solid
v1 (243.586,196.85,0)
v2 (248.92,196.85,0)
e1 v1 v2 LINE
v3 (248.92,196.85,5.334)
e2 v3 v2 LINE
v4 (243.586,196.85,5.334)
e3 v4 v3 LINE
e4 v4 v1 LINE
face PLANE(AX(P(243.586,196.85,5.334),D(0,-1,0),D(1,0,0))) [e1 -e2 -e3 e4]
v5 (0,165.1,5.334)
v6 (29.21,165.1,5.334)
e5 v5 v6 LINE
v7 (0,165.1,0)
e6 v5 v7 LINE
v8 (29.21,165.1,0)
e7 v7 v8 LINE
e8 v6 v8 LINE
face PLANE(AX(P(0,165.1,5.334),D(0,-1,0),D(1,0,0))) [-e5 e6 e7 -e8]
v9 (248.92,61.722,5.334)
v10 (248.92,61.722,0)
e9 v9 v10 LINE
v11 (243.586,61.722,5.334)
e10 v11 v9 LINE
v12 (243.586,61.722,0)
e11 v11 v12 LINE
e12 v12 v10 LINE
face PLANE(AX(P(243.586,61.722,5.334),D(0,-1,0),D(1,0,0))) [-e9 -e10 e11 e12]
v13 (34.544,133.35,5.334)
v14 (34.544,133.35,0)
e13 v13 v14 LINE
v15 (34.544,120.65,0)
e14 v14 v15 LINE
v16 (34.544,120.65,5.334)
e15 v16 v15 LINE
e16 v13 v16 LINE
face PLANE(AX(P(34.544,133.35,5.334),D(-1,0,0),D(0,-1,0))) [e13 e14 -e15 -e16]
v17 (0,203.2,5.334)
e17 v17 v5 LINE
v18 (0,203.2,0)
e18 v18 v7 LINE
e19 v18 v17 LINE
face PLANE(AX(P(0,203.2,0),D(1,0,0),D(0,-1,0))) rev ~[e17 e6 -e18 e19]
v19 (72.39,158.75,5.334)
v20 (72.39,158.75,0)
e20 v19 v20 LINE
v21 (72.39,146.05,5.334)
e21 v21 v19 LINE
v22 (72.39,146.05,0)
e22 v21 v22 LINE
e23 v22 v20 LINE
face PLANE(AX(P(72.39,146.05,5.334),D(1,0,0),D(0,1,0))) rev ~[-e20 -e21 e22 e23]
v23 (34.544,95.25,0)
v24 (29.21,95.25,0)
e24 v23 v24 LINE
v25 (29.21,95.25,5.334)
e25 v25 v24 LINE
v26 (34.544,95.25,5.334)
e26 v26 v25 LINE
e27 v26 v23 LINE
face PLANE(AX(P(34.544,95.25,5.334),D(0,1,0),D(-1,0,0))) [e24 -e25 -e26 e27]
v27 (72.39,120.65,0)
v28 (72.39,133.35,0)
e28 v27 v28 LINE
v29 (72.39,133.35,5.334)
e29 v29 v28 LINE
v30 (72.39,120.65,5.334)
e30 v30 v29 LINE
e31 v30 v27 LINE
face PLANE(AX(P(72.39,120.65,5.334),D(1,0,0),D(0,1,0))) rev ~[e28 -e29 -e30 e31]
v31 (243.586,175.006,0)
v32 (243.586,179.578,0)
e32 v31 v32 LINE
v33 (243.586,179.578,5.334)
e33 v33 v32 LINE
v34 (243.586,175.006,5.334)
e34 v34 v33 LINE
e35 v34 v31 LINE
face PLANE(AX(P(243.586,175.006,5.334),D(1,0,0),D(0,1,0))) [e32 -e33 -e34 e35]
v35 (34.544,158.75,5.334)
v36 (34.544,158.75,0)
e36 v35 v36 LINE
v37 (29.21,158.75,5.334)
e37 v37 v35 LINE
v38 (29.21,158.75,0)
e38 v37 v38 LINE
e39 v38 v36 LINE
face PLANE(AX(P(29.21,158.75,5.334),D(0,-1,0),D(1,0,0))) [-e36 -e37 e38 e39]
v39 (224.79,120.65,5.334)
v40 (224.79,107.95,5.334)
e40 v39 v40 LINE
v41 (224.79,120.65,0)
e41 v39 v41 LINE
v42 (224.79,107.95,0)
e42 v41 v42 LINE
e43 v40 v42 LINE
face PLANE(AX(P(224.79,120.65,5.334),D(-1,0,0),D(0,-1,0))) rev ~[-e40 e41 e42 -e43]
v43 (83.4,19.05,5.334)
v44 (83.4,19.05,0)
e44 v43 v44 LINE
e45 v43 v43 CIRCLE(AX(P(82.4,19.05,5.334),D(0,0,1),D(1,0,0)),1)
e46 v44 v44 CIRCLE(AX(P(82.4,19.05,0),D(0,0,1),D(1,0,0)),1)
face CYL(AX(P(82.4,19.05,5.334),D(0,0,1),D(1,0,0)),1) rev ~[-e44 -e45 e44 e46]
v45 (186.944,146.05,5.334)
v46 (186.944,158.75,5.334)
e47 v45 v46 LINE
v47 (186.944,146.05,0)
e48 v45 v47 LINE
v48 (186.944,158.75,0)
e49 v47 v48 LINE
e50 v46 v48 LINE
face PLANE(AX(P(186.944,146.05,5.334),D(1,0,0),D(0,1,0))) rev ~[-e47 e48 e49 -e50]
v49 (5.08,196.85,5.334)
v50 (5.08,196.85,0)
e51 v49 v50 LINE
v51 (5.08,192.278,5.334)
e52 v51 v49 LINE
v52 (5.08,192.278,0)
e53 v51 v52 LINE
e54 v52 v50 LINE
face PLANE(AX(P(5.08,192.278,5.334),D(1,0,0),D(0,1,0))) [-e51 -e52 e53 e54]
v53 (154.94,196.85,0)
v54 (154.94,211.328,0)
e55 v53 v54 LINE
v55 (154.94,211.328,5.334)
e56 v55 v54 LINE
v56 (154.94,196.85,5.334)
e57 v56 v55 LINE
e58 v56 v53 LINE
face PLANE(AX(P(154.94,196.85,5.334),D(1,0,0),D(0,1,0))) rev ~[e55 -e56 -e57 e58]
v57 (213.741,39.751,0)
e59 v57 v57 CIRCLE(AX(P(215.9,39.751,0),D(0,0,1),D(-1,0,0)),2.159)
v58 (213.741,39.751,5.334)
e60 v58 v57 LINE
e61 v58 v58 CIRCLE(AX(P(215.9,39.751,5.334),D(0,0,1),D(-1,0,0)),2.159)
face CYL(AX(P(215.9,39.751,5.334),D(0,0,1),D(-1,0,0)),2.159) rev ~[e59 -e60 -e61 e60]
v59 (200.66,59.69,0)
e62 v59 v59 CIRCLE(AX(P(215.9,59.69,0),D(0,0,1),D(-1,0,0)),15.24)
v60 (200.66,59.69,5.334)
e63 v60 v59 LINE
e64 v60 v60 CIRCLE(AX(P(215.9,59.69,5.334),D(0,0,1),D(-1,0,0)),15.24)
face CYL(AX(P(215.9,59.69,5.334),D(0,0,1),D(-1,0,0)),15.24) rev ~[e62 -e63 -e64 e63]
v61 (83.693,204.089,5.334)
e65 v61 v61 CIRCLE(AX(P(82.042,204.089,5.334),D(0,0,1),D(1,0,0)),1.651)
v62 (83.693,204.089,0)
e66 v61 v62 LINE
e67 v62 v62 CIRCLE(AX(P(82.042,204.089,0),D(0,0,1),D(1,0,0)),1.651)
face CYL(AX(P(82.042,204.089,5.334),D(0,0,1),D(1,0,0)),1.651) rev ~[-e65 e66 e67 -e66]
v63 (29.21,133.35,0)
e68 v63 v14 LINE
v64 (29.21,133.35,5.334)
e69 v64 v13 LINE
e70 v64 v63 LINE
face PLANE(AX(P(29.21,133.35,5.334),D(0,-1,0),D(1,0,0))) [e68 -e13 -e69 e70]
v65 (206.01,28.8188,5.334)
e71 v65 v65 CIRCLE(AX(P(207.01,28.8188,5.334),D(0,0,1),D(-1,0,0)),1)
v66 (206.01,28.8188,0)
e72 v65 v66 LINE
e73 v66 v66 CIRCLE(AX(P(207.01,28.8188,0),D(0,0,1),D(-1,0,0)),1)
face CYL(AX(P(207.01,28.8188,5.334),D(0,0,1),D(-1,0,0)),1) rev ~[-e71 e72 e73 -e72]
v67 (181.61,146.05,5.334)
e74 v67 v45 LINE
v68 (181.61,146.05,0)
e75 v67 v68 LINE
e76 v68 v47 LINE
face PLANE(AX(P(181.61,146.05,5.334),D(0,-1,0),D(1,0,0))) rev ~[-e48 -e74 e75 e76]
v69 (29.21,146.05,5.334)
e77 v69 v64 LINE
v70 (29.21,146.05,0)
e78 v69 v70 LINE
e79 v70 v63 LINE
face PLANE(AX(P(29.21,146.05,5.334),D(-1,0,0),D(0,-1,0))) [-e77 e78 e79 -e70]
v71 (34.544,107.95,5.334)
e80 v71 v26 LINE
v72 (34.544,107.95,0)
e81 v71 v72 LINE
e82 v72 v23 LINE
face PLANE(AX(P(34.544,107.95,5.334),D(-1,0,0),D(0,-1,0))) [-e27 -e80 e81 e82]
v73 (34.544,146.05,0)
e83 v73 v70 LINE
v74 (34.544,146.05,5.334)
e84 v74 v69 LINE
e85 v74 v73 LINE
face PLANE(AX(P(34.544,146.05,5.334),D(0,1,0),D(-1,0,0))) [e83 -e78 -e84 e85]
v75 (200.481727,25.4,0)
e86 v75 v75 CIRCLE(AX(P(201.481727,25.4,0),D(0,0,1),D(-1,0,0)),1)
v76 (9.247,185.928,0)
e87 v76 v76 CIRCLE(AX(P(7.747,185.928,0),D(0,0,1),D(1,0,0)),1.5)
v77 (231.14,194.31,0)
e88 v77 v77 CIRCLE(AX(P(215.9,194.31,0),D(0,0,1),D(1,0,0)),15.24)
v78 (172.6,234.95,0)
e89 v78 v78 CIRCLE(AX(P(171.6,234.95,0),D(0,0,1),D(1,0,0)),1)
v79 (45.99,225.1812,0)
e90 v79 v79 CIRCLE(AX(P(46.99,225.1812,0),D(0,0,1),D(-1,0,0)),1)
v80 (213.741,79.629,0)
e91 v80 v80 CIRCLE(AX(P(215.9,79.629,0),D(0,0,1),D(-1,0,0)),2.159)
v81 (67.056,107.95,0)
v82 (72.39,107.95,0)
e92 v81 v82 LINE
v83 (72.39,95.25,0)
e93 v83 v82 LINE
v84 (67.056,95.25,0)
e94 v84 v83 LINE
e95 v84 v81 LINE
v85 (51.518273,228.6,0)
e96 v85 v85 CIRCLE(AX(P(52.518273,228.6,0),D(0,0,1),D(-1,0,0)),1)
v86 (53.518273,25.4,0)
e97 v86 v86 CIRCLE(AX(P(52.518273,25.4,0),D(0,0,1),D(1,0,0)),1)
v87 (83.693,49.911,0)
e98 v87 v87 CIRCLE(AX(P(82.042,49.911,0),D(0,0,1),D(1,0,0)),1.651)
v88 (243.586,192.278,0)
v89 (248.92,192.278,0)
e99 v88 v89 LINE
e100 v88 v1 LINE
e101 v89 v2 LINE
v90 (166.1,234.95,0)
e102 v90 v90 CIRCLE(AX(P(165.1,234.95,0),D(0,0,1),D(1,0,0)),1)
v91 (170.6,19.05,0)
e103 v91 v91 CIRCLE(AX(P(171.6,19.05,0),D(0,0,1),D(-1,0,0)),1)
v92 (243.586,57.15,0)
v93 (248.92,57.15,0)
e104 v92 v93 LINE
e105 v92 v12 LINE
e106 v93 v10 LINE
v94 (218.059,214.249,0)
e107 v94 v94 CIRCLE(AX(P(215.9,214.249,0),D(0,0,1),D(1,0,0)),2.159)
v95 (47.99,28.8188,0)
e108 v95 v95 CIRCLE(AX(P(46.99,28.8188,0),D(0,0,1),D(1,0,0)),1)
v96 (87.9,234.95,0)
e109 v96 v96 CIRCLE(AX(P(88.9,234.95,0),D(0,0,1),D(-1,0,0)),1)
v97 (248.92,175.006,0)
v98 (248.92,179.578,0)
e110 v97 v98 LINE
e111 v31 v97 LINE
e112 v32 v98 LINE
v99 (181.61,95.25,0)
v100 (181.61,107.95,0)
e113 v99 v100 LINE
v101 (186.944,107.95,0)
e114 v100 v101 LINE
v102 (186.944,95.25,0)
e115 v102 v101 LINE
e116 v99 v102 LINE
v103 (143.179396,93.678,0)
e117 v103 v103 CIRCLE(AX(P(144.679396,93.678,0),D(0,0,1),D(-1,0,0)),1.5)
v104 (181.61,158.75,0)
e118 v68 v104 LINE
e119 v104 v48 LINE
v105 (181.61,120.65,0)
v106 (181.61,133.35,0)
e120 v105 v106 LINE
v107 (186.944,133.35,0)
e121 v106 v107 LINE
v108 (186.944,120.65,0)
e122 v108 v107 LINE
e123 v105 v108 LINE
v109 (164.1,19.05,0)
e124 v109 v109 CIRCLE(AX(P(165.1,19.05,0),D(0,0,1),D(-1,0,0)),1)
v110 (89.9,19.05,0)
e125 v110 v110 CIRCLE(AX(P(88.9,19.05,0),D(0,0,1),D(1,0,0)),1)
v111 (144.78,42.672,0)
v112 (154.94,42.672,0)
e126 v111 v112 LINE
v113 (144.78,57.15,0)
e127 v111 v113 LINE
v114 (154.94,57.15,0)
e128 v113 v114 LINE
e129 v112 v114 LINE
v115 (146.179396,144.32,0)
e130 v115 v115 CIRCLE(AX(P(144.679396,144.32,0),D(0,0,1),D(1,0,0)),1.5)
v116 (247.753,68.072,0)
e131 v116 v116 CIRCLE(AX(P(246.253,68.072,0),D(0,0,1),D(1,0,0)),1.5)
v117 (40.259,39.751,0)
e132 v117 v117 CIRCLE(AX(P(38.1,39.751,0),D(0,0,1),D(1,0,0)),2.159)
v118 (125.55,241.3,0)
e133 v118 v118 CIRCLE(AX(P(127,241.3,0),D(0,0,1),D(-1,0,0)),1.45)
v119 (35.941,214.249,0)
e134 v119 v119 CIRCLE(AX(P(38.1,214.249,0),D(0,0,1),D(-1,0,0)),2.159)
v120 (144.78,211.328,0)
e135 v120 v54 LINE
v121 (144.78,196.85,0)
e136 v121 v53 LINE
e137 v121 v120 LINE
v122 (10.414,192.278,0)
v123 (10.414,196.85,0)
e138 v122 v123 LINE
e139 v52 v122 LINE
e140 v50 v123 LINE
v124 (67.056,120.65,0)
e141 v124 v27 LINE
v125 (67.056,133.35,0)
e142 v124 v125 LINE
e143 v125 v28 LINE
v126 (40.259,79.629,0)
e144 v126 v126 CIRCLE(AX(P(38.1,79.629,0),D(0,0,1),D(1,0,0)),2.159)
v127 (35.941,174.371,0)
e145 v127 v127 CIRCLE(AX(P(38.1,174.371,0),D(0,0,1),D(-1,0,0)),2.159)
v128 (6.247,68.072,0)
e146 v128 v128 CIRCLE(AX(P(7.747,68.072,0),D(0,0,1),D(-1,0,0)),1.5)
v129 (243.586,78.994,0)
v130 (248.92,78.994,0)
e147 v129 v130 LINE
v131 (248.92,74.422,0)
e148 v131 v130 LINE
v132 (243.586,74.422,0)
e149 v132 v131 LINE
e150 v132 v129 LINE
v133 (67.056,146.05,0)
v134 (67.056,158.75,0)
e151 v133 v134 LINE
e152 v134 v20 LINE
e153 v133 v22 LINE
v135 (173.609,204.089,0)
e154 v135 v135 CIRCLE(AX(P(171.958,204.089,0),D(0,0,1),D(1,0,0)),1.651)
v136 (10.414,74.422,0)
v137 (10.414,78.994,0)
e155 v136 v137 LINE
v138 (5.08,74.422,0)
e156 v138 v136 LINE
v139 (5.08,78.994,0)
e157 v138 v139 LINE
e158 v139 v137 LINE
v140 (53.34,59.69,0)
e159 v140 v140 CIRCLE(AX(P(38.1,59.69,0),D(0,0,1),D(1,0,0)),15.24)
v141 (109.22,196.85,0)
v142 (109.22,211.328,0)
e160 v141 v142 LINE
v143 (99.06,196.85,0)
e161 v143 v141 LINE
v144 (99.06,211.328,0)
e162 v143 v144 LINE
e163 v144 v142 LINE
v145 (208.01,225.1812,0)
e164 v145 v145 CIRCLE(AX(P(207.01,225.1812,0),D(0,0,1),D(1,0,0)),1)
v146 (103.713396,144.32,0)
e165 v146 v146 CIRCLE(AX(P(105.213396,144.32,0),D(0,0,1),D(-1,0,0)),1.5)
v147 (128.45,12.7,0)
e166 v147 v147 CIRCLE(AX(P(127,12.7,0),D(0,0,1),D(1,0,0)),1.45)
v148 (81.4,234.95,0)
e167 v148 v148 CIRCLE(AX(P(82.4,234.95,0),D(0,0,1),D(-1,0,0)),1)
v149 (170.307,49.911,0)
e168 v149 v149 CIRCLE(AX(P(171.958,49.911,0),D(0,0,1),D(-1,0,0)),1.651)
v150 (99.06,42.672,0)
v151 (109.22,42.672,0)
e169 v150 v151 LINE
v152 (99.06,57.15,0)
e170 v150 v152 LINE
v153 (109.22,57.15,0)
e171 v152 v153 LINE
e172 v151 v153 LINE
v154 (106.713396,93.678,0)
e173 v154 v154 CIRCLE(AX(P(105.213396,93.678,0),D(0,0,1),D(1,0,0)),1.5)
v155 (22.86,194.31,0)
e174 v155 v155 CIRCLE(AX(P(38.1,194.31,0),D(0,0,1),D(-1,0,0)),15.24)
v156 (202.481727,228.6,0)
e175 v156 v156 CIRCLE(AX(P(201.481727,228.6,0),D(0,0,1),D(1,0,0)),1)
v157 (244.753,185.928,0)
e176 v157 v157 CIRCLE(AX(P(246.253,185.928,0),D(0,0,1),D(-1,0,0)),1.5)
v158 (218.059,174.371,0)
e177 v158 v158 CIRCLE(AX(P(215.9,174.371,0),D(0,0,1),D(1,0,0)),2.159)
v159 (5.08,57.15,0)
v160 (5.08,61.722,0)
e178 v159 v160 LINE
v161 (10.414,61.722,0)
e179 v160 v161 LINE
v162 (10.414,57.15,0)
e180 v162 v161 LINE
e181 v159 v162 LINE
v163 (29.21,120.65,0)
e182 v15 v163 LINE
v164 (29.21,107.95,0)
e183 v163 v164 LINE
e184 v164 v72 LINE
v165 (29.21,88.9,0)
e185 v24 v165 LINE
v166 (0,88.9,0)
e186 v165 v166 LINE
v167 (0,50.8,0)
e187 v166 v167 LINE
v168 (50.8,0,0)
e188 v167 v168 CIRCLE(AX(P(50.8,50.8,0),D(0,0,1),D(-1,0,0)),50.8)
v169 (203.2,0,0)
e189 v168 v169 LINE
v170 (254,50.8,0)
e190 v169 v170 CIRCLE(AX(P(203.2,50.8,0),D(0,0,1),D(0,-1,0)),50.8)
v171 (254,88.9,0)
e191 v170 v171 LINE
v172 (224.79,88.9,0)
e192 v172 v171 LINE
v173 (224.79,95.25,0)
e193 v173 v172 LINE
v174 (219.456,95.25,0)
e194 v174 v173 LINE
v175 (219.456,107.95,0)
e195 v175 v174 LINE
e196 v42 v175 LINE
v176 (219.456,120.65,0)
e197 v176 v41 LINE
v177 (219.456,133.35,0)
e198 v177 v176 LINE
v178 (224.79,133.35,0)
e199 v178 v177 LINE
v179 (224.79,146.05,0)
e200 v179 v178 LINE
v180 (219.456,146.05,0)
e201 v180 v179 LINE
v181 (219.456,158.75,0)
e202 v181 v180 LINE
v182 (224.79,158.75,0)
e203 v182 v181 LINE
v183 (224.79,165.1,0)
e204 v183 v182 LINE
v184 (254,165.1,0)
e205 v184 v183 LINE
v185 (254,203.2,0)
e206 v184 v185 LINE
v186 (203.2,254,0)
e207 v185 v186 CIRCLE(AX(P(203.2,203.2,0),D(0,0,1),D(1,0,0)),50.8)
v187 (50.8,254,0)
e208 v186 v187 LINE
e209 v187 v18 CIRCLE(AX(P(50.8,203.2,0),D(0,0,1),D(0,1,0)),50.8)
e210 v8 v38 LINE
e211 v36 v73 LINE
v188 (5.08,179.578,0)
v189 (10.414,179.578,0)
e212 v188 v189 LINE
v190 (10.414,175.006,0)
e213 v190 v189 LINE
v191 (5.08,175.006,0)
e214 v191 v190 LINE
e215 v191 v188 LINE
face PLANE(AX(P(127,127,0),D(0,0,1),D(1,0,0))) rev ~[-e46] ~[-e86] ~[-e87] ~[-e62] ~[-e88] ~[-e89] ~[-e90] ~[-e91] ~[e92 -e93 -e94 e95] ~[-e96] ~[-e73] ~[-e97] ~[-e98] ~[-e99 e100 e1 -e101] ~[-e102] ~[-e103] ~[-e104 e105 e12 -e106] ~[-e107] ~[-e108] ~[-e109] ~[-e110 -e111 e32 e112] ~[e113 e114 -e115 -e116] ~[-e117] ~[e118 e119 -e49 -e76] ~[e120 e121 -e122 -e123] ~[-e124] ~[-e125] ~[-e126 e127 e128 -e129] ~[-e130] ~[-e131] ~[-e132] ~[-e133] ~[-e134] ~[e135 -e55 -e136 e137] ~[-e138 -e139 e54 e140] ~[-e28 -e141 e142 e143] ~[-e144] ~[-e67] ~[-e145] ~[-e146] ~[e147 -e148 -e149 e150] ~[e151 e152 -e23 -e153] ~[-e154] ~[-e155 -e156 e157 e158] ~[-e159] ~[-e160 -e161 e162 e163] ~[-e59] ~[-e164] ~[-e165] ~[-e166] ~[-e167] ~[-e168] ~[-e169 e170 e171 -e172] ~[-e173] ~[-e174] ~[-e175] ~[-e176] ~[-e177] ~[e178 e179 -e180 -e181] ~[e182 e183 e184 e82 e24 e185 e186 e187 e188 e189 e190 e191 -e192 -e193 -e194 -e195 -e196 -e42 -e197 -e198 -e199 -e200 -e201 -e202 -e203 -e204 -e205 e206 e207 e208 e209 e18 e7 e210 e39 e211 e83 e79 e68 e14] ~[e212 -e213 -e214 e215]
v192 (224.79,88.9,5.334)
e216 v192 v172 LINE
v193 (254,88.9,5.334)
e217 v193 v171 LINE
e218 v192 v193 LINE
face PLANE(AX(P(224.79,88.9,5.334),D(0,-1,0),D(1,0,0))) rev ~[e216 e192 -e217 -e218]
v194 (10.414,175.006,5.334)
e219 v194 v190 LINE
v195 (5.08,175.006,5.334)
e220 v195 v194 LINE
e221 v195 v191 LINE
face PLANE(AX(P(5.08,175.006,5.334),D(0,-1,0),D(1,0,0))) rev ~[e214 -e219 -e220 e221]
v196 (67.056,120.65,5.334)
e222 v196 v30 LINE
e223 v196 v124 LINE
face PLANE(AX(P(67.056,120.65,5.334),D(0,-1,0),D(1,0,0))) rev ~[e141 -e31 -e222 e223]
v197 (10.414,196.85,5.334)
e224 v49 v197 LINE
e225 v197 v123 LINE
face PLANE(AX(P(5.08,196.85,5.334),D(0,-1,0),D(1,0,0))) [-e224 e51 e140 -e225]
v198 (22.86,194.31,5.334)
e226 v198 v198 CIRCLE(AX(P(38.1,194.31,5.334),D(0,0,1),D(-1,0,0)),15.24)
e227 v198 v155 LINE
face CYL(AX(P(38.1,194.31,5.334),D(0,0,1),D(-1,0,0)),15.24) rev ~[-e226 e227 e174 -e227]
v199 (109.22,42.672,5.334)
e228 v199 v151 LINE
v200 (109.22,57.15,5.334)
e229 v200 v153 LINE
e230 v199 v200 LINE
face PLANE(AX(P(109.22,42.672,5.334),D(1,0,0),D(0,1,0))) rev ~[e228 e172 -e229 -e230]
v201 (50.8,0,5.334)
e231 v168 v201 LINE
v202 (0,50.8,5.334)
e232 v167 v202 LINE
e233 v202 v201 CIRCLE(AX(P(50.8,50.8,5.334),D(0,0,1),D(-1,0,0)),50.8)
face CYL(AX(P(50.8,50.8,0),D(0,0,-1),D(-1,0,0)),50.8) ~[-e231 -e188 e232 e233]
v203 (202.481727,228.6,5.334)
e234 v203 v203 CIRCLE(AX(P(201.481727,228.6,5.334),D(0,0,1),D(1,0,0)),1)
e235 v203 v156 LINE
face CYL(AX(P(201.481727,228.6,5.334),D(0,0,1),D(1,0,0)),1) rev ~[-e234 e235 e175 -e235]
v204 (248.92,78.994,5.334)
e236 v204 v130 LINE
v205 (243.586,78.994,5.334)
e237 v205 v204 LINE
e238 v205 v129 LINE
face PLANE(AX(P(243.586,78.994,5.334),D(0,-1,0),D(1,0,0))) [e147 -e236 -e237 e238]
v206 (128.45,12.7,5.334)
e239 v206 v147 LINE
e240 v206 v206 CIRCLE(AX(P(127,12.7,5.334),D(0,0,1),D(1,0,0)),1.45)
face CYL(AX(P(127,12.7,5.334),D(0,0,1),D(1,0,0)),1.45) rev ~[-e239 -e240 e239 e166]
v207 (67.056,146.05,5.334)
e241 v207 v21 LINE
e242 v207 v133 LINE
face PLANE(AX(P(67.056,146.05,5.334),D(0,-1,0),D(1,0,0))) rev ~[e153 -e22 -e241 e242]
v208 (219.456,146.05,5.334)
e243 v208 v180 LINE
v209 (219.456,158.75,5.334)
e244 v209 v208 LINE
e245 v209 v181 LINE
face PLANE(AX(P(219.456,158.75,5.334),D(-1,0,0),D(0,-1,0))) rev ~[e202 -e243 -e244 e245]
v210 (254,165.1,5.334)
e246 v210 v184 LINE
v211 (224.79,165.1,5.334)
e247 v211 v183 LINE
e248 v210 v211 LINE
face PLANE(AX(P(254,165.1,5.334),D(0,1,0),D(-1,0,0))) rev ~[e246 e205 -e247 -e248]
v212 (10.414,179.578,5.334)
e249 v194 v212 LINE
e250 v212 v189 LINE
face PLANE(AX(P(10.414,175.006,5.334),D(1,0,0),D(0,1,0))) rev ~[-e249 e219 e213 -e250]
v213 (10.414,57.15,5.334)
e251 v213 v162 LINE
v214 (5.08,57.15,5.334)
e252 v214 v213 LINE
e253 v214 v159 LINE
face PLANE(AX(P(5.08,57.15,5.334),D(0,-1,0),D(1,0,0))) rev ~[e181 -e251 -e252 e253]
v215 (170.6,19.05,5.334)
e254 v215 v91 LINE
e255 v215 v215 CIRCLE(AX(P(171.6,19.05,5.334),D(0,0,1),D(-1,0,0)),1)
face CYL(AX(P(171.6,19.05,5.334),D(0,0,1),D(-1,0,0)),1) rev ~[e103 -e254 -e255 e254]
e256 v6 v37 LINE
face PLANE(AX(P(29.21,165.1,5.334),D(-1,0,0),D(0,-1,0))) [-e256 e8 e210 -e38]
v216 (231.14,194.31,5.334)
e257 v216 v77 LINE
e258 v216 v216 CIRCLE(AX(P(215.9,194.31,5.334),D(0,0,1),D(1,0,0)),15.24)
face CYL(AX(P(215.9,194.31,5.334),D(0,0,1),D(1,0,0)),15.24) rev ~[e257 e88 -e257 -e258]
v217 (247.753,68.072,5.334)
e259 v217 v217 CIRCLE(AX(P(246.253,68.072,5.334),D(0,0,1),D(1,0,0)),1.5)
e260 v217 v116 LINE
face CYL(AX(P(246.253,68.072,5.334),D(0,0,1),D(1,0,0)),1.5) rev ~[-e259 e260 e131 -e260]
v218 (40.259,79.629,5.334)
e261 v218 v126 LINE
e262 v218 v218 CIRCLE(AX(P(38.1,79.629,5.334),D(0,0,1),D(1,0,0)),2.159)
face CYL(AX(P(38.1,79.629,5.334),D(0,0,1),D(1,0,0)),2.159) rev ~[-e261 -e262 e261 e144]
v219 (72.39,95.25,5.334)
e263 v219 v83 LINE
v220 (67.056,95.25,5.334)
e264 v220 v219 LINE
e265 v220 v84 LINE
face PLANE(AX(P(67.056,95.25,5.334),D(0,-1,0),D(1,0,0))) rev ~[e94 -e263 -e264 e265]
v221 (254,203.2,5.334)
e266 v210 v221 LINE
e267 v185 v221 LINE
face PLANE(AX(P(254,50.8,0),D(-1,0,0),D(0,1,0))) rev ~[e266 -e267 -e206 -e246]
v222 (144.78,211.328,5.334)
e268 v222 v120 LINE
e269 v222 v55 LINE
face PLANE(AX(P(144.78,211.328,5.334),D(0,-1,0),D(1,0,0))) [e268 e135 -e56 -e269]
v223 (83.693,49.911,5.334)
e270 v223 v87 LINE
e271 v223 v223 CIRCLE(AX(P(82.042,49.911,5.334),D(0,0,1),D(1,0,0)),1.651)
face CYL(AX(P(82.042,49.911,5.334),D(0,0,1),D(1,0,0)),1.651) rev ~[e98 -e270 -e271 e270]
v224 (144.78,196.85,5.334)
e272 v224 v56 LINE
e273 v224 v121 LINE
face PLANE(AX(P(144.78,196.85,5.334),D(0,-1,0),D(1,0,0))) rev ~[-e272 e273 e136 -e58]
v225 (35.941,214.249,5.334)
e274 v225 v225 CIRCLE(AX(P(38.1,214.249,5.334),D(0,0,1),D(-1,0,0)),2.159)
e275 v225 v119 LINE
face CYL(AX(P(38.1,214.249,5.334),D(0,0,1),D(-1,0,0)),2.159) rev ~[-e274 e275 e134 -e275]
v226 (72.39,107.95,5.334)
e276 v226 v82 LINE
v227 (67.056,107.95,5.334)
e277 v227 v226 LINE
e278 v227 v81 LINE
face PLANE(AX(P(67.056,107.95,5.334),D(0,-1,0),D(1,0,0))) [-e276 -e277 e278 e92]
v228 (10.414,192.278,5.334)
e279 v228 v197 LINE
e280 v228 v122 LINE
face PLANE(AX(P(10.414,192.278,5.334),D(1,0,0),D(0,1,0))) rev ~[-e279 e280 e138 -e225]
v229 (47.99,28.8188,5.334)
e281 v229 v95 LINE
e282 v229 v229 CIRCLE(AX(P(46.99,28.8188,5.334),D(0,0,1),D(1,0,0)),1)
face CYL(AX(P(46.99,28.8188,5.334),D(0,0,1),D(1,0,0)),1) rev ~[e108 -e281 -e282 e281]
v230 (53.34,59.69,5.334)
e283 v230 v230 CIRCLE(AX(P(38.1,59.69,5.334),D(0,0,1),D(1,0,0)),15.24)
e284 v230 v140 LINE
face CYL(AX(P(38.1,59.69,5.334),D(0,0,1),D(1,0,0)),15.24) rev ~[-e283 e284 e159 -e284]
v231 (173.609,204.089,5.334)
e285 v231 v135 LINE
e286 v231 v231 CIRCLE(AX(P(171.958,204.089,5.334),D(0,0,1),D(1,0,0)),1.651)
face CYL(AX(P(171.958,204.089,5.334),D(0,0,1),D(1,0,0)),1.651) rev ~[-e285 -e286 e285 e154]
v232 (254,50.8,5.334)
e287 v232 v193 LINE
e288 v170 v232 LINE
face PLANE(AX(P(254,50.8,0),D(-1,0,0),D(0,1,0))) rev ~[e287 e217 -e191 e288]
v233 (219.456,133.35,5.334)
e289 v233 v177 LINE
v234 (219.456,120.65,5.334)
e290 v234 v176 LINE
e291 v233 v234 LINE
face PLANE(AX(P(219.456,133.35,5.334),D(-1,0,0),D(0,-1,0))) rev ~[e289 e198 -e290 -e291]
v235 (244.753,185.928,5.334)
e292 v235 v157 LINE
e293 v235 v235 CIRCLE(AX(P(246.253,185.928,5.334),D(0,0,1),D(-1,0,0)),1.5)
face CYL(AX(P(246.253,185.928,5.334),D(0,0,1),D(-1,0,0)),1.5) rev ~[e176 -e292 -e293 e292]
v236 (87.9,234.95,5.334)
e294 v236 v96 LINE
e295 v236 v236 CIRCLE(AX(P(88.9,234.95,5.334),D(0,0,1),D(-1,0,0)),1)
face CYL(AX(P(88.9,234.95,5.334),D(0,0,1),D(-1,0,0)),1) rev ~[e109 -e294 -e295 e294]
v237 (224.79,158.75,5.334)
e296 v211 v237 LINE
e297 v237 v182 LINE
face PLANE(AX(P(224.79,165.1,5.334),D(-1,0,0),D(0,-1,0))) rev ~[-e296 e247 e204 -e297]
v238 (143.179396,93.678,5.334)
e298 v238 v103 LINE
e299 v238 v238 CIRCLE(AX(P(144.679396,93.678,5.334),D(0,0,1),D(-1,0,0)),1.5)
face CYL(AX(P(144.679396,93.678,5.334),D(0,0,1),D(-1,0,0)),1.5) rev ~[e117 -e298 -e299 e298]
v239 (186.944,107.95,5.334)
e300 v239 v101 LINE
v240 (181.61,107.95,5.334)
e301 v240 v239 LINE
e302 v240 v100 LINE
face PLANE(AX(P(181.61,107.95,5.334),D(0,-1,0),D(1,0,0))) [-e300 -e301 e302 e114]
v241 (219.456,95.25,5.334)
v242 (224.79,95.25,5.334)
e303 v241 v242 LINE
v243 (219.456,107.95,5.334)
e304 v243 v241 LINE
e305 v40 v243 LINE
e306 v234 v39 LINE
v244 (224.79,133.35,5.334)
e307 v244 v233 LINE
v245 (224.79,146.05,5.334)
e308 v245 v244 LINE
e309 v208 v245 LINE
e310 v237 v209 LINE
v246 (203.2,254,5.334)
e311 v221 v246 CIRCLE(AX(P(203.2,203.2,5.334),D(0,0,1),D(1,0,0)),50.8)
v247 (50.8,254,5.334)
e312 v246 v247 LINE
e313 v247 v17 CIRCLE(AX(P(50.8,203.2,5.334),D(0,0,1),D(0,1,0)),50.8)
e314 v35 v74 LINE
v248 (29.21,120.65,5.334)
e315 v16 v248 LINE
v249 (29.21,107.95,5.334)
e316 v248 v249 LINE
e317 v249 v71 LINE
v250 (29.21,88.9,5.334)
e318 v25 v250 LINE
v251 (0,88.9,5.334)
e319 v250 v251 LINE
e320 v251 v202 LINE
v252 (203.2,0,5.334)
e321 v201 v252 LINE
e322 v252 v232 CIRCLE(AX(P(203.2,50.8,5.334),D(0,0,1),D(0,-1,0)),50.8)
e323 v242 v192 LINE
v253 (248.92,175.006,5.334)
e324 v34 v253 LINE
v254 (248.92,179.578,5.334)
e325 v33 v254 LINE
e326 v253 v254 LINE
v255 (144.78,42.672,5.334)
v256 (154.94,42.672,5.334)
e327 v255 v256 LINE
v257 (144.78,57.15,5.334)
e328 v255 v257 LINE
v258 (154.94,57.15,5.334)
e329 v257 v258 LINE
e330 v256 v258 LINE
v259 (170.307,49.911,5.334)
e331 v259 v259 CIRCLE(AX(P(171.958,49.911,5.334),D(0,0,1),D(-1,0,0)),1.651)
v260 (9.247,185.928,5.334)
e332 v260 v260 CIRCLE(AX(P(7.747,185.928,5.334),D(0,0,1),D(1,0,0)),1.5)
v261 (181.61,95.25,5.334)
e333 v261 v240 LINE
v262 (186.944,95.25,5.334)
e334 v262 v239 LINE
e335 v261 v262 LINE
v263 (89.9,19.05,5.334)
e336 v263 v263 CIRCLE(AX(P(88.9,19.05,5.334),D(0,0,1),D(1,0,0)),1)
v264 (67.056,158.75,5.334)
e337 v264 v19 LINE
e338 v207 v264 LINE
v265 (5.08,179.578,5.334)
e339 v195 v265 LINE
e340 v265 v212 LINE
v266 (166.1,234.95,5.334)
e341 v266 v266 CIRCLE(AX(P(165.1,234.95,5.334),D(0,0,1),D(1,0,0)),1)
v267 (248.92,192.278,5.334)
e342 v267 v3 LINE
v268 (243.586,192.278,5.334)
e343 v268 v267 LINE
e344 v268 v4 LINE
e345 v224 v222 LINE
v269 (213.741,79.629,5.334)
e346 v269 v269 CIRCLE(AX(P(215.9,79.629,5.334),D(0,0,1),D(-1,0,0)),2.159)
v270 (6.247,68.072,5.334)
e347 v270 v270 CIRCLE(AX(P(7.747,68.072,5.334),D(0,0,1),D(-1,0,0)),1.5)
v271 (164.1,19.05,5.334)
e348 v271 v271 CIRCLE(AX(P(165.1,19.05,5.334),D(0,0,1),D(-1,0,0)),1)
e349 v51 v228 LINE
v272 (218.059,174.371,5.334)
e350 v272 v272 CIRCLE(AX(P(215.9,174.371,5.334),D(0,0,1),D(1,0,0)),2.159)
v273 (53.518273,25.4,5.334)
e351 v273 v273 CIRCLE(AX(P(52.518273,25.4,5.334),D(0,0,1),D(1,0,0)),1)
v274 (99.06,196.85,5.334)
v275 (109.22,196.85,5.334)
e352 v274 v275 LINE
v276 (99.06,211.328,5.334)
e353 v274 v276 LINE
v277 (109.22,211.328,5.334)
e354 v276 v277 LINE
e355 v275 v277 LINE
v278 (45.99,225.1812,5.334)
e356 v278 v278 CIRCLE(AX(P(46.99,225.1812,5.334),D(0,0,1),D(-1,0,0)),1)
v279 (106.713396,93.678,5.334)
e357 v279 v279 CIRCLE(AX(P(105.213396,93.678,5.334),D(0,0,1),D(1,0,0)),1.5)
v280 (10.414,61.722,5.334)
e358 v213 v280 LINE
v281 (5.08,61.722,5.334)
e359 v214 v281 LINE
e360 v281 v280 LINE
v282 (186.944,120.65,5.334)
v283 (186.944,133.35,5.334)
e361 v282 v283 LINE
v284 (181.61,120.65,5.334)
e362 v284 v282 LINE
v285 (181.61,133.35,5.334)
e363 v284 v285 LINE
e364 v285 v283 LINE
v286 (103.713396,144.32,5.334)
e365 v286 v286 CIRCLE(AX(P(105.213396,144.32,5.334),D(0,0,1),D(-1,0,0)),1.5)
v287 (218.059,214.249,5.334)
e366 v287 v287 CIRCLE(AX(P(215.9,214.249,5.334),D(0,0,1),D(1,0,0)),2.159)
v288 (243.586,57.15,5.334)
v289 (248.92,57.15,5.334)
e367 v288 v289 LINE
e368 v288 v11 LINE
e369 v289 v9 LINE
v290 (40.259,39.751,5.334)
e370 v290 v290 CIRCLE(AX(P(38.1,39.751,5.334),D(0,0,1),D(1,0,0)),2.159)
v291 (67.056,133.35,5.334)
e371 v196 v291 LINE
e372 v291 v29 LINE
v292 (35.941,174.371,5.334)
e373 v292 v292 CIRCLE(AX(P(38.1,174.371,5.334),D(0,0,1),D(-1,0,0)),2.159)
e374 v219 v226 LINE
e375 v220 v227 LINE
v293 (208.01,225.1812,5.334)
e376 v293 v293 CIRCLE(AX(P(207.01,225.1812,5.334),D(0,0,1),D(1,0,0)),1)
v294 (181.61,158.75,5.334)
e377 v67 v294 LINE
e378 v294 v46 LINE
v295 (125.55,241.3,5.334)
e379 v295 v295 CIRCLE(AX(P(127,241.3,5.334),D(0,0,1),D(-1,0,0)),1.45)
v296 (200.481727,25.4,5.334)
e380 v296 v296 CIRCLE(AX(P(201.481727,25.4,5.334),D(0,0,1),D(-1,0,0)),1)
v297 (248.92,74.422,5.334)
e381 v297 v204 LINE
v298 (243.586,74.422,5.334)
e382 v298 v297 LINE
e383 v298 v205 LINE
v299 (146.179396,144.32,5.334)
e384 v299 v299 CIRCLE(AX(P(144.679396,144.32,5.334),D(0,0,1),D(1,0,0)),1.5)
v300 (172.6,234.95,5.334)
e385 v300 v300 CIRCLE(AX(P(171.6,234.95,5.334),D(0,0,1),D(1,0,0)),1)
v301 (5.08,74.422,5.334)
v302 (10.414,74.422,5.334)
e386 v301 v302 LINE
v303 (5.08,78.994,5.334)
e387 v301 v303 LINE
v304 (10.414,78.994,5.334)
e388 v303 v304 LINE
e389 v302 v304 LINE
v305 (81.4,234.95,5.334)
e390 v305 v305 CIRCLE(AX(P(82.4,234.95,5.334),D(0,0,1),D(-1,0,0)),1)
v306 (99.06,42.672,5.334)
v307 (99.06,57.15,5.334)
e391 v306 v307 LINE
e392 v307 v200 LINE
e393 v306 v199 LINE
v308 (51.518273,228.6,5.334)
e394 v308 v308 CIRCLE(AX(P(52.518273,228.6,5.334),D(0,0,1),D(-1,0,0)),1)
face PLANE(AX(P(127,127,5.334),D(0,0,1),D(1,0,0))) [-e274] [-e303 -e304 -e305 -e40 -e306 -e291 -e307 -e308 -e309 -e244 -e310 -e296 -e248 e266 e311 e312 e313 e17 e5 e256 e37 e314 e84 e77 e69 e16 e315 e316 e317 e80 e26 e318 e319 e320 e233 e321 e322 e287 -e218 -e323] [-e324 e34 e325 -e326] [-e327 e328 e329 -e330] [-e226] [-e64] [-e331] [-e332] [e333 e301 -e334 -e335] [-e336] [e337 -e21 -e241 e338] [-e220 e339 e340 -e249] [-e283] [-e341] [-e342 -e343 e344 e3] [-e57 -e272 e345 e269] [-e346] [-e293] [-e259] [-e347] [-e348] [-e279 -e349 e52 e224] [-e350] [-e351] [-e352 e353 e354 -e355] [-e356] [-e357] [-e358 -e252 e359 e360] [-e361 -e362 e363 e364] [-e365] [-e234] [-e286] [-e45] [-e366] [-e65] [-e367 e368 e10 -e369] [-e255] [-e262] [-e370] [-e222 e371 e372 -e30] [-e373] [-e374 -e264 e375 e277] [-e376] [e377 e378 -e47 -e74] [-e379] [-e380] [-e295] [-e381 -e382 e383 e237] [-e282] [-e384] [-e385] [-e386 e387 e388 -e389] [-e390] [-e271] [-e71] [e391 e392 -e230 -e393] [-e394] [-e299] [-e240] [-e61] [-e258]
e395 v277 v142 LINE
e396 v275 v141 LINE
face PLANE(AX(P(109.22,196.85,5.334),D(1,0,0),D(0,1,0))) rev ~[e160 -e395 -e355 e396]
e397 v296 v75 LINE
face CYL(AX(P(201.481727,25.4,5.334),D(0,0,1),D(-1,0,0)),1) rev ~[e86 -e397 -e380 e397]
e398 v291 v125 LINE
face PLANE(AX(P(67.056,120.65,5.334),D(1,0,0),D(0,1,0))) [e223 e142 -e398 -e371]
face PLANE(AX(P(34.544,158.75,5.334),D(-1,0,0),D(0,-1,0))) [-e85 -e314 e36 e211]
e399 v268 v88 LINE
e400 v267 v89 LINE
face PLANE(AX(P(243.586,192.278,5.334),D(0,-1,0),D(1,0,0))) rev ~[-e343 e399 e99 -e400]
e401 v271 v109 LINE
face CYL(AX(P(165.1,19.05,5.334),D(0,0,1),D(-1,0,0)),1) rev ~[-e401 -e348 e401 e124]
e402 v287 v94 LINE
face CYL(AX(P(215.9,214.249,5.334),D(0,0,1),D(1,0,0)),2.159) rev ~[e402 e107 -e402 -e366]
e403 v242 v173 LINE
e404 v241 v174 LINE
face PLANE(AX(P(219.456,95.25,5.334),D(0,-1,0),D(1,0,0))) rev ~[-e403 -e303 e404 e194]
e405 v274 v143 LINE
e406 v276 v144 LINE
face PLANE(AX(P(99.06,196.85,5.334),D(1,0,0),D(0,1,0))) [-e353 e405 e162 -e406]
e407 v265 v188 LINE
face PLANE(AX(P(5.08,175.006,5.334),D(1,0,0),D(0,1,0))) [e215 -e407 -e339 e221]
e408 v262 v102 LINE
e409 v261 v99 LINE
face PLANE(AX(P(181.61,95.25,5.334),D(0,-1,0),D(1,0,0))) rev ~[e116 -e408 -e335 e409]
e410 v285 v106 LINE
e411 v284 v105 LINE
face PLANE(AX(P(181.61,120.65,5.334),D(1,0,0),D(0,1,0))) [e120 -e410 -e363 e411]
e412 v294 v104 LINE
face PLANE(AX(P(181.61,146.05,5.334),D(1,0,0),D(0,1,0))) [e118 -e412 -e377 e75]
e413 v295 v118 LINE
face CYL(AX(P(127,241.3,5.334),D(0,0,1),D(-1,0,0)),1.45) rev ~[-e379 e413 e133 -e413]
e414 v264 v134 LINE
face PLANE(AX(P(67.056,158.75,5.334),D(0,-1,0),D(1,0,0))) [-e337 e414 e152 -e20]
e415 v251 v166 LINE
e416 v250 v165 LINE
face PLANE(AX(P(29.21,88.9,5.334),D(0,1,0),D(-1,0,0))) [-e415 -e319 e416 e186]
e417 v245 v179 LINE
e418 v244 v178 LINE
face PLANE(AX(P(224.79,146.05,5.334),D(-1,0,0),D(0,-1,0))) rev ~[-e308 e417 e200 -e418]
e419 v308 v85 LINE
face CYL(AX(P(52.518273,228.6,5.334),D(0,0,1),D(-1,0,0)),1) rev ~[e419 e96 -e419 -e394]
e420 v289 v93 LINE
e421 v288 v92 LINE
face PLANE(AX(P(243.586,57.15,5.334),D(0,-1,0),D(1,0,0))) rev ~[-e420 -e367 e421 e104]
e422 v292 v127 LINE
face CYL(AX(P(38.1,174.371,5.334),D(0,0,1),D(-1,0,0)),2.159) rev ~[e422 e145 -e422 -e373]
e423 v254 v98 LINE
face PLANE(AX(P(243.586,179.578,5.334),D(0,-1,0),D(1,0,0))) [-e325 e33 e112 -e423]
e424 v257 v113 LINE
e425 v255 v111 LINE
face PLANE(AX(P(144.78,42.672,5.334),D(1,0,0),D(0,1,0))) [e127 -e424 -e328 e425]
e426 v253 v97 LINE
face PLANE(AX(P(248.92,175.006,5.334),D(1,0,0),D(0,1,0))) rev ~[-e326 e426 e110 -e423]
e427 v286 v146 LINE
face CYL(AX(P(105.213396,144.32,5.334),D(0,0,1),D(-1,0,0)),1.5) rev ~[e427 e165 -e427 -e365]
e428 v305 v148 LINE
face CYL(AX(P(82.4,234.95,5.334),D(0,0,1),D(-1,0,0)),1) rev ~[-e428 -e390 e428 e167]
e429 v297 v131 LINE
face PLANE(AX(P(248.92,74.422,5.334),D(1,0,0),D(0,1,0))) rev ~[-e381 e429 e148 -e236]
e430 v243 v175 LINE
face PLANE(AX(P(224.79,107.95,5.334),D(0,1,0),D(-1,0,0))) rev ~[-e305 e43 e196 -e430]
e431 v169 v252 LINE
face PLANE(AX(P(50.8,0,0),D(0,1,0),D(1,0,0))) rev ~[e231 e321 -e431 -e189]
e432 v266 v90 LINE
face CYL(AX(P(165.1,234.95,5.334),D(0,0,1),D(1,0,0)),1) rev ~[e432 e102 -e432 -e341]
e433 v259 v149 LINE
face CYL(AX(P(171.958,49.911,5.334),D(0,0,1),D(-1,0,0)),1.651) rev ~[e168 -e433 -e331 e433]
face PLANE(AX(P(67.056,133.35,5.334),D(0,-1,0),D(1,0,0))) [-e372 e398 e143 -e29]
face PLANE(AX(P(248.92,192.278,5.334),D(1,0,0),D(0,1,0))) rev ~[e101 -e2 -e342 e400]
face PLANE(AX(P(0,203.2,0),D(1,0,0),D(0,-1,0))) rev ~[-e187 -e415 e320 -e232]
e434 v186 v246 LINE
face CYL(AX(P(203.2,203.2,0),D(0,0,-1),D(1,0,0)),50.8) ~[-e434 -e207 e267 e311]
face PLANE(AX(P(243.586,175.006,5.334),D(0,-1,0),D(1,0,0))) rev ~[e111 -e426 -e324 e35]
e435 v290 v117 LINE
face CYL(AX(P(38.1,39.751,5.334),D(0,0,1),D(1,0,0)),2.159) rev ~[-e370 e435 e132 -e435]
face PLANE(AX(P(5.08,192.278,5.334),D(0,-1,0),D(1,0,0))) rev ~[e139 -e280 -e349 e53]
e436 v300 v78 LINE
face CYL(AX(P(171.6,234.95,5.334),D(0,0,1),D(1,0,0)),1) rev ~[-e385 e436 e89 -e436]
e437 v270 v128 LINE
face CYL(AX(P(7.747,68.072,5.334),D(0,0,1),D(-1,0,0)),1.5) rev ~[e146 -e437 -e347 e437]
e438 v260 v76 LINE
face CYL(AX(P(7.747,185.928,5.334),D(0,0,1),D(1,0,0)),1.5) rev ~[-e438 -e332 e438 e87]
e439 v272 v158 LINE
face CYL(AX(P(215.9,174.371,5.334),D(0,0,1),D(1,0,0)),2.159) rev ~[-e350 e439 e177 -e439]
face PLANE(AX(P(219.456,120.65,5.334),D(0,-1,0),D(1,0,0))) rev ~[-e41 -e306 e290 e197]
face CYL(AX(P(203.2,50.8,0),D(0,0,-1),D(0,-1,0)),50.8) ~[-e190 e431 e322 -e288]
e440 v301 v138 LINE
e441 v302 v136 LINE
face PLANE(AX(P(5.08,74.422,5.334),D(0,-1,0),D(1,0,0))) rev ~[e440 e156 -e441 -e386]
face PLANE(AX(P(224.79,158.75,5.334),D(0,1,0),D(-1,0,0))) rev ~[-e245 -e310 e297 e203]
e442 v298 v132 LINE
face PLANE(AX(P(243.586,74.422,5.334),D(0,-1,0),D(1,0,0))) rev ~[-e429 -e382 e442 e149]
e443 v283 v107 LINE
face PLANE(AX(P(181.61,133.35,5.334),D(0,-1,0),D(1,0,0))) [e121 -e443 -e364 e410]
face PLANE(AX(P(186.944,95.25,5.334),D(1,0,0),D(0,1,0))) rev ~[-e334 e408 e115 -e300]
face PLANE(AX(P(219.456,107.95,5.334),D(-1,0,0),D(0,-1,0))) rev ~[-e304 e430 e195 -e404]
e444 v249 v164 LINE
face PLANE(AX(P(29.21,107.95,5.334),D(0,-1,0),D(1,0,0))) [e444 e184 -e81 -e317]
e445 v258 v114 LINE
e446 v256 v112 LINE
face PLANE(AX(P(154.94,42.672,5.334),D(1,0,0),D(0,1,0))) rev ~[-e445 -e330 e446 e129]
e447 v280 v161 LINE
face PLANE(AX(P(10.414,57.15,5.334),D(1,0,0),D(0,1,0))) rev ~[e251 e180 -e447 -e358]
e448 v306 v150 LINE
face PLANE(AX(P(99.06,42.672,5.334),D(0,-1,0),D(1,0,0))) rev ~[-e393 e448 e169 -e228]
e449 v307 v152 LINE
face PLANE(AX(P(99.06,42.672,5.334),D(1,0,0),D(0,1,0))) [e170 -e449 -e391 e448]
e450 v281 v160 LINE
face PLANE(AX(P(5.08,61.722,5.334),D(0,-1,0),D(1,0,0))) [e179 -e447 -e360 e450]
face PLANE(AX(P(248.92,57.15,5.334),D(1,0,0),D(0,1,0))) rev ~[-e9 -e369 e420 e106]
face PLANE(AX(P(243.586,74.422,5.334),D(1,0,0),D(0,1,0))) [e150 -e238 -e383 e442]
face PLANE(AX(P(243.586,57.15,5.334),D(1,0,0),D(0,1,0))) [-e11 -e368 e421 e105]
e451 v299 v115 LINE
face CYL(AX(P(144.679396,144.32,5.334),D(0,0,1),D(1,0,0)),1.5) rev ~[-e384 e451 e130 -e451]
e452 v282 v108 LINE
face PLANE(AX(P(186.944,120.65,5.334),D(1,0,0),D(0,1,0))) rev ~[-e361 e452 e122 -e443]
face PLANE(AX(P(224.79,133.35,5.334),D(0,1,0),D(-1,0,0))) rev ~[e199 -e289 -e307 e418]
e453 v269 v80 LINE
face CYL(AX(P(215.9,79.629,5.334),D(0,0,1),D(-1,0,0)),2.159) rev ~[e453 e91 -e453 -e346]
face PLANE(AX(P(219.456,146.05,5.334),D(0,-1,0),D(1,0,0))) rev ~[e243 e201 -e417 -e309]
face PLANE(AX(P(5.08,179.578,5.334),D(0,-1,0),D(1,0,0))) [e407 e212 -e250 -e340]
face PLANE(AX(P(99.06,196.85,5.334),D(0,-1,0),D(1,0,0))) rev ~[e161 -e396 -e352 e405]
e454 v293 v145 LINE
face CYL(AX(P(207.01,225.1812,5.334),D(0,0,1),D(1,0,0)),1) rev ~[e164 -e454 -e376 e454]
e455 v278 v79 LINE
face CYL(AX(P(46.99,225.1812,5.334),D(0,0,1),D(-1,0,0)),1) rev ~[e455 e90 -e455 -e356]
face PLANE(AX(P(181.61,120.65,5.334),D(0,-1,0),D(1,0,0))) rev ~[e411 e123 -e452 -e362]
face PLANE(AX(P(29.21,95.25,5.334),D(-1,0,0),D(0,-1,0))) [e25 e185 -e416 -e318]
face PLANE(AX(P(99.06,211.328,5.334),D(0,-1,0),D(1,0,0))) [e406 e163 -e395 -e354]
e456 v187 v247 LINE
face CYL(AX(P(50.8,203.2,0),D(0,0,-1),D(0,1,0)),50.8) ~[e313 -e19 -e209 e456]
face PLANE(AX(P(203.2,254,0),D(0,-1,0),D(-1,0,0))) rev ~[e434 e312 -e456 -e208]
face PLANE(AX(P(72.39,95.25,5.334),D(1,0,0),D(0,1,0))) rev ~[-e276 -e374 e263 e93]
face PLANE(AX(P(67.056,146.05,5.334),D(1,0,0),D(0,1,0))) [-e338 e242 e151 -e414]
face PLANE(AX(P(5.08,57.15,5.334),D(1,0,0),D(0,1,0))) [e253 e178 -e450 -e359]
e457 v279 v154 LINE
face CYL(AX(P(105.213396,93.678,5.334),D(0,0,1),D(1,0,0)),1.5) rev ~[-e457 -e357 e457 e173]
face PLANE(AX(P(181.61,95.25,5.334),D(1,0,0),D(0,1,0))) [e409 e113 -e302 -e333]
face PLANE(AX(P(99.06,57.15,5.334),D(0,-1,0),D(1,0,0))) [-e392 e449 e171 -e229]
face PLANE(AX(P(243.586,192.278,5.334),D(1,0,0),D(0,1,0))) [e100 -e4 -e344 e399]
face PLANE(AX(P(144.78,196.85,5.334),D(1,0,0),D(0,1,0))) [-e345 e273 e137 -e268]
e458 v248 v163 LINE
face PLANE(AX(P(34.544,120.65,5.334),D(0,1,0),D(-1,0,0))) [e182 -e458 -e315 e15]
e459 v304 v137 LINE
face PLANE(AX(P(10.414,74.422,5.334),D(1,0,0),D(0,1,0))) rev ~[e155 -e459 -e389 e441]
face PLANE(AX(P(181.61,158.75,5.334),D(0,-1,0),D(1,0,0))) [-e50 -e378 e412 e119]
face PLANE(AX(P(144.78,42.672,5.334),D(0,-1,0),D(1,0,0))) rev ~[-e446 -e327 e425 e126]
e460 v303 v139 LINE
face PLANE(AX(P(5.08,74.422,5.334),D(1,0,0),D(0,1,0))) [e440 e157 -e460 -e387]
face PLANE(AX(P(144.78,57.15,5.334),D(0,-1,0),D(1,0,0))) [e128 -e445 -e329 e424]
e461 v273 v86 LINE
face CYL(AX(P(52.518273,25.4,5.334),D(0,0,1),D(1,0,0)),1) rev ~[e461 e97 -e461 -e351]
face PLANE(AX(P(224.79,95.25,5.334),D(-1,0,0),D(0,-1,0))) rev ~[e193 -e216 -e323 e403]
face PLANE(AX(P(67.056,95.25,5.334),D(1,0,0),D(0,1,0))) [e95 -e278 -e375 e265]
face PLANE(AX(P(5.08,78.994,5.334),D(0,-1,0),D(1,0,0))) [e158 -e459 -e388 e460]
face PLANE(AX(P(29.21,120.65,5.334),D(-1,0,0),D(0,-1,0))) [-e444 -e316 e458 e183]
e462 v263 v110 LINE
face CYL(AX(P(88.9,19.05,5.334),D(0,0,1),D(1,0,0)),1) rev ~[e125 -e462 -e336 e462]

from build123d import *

# Parameters (mm, degrees)
BOSS_EXTRUDE1_DEPTH = 5.334
SKETCH3_W           = 5.334
SKETCH3_H           = 12.7
CUT_EXTRUDE1_DEPTH  = 5.334
SKETCH4_R           = 1.5
CUT_EXTRUDE2_DEPTH  = 360.249845589
SKETCH5_R           = 1.651
SKETCH5_W           = 10.16
SKETCH5_H           = 14.478
CUT_EXTRUDE3_DEPTH  = 360.249845589
SKETCH6_R           = 1.5
SKETCH6_W           = 5.334
SKETCH6_H           = 4.572
CUT_EXTRUDE4_DEPTH  = 360.249845589
SKETCH7_R           = 1
SKETCH7_R_2         = 1.45
CUT_EXTRUDE5_DEPTH  = 360.249845589
SKETCH8_R           = 15.24
SKETCH8_R_2         = 2.159
CUT_EXTRUDE6_DEPTH  = 360.249845589


with BuildPart() as part:
    # Sketch1 → Boss-Extrude1 (new body)
    with BuildSketch(Plane.XY):
        with BuildLine():
            Line((50.8, 0), (203.2, 0))
            ThreePointArc((203.2, 0), (239.121024484, 14.878975516), (254, 50.8))
            Line((254, 50.8), (254, 203.2))
            ThreePointArc((254, 203.2), (239.121024484, 239.121024484), (203.2, 254))
            Line((203.2, 254), (50.8, 254))
            ThreePointArc((50.8, 254), (14.878975516, 239.121024484), (0, 203.2))
            Line((0, 203.2), (0, 50.8))
            ThreePointArc((0, 50.8), (14.878975516, 14.878975516), (50.8, 0))
        make_face()
    extrude(amount=BOSS_EXTRUDE1_DEPTH)

    # Sketch3 → Cut-Extrude1 (cut)
    with BuildSketch(Plane.XY.offset(5.334)):
        Polygon((29.21, 95.25), (29.21, 88.9), (0, 88.9), (0, 165.1), (29.21, 165.1), (29.21, 158.75), (34.544, 158.75), (34.544, 146.05), (29.21, 146.05), (29.21, 133.35), (34.544, 133.35), (34.544, 120.65), (29.21, 120.65), (29.21, 107.95), (34.544, 107.95), (34.544, 95.25), align=None)
        Polygon((224.79, 133.35), (219.456, 133.35), (219.456, 120.65), (224.79, 120.65), (224.79, 107.95), (219.456, 107.95), (219.456, 95.25), (224.79, 95.25), (224.79, 88.9), (254, 88.9), (254, 165.1), (224.79, 165.1), (224.79, 158.75), (219.456, 158.75), (219.456, 146.05), (224.79, 146.05), align=None)
        with Locations((69.723, 127)):
            Rectangle(SKETCH3_W, SKETCH3_H)
        with Locations((69.723, 152.4)):
            Rectangle(SKETCH3_W, SKETCH3_H)
        with Locations((69.723, 101.6)):
            Rectangle(SKETCH3_W, SKETCH3_H)
        with Locations((184.277, 152.4)):
            Rectangle(SKETCH3_W, SKETCH3_H)
        with Locations((184.277, 127)):
            Rectangle(SKETCH3_W, SKETCH3_H)
        with Locations((184.277, 101.6)):
            Rectangle(SKETCH3_W, SKETCH3_H)
    extrude(amount=-CUT_EXTRUDE1_DEPTH, mode=Mode.SUBTRACT)

    # Sketch4 → Cut-Extrude2 (cut, through all)
    with BuildSketch(Plane.XY.offset(5.334)):
        with Locations((105.213395979, 93.678)):
            Circle(SKETCH4_R)
        with Locations(Location((144.679395979, 93.678, 0), (0, 0, 180))):
            Circle(SKETCH4_R)
        with Locations((144.679395979, 144.32)):
            Circle(SKETCH4_R)
        with Locations(Location((105.213395979, 144.32, 0), (0, 0, 180))):
            Circle(SKETCH4_R)
    extrude(amount=-CUT_EXTRUDE2_DEPTH, mode=Mode.SUBTRACT)

    # Sketch5 → Cut-Extrude3 (cut, through all)
    with BuildSketch(Plane.XY.offset(5.334)):
        with Locations((82.042, 204.089)):
            Circle(SKETCH5_R)
        with Locations((104.14, 204.089)):
            Rectangle(SKETCH5_W, SKETCH5_H)
        with Locations((149.86, 204.089)):
            Rectangle(SKETCH5_W, SKETCH5_H)
        with Locations((171.958, 204.089)):
            Circle(SKETCH5_R)
        with Locations((82.042, 49.911)):
            Circle(SKETCH5_R)
        with Locations((104.14, 49.911)):
            Rectangle(SKETCH5_W, SKETCH5_H)
        with Locations((149.86, 49.911)):
            Rectangle(SKETCH5_W, SKETCH5_H)
        with Locations(Location((171.958, 49.911, 0), (0, 0, 180))):
            Circle(SKETCH5_R)
    extrude(amount=-CUT_EXTRUDE3_DEPTH, mode=Mode.SUBTRACT)

    # Sketch6 → Cut-Extrude4 (cut, through all)
    with BuildSketch(Plane.XY.offset(5.334)):
        with Locations((7.747, 185.928)):
            Circle(SKETCH6_R)
        with Locations(Location((246.253, 185.928, 0), (0, 0, 180))):
            Circle(SKETCH6_R)
        with Locations((246.253, 68.072)):
            Circle(SKETCH6_R)
        with Locations(Location((7.747, 68.072, 0), (0, 0, 180))):
            Circle(SKETCH6_R)
        with Locations((7.747, 194.564)):
            Rectangle(SKETCH6_W, SKETCH6_H)
        with Locations((7.747, 177.292)):
            Rectangle(SKETCH6_W, SKETCH6_H)
        with Locations((246.253, 177.292)):
            Rectangle(SKETCH6_W, SKETCH6_H)
        with Locations((246.253, 194.564)):
            Rectangle(SKETCH6_W, SKETCH6_H)
        with Locations((246.253, 59.436)):
            Rectangle(SKETCH6_W, SKETCH6_H)
        with Locations((246.253, 76.708)):
            Rectangle(SKETCH6_W, SKETCH6_H)
        with Locations((7.747, 76.708)):
            Rectangle(SKETCH6_W, SKETCH6_H)
        with Locations((7.747, 59.436)):
            Rectangle(SKETCH6_W, SKETCH6_H)
    extrude(amount=-CUT_EXTRUDE4_DEPTH, mode=Mode.SUBTRACT)

    # Sketch7 → Cut-Extrude5 (cut, through all)
    with BuildSketch(Plane.XY.offset(5.334)):
        with Locations((82.4, 19.05)):
            Circle(SKETCH7_R)
        with Locations((88.9, 19.05)):
            Circle(SKETCH7_R)
        with Locations(Location((165.1, 19.05, 0), (0, 0, 180))):
            Circle(SKETCH7_R)
        with Locations(Location((171.6, 19.05, 0), (0, 0, 180))):
            Circle(SKETCH7_R)
        with Locations((171.6, 234.95)):
            Circle(SKETCH7_R)
        with Locations((165.1, 234.95)):
            Circle(SKETCH7_R)
        with Locations(Location((88.9, 234.95, 0), (0, 0, 180))):
            Circle(SKETCH7_R)
        with Locations(Location((82.4, 234.95, 0), (0, 0, 180))):
            Circle(SKETCH7_R)
        with Locations((127, 12.7)):
            Circle(SKETCH7_R_2)
        with Locations(Location((127, 241.3, 0), (0, 0, 180))):
            Circle(SKETCH7_R_2)
        with Locations((52.518273092, 25.4)):
            Circle(SKETCH7_R)
        with Locations((46.99, 28.818800465)):
            Circle(SKETCH7_R)
        with Locations(Location((207.01, 28.818800465, 0), (0, 0, 180))):
            Circle(SKETCH7_R)
        with Locations(Location((201.481726908, 25.4, 0), (0, 0, 180))):
            Circle(SKETCH7_R)
        with Locations((201.481726908, 228.6)):
            Circle(SKETCH7_R)
        with Locations((207.01, 225.181199535)):
            Circle(SKETCH7_R)
        with Locations(Location((46.99, 225.181199535, 0), (0, 0, 180))):
            Circle(SKETCH7_R)
        with Locations(Location((52.518273092, 228.6, 0), (0, 0, 180))):
            Circle(SKETCH7_R)
    extrude(amount=-CUT_EXTRUDE5_DEPTH, mode=Mode.SUBTRACT)

    # Sketch8 → Cut-Extrude6 (cut, through all)
    with BuildSketch(Plane.XY.offset(5.334)):
        with Locations((38.1, 59.69)):
            Circle(SKETCH8_R)
        with Locations((38.1, 39.751)):
            Circle(SKETCH8_R_2)
        with Locations((38.1, 79.629)):
            Circle(SKETCH8_R_2)
        with Locations(Location((215.9, 79.629, 0), (0, 0, 180))):
            Circle(SKETCH8_R_2)
        with Locations(Location((215.9, 39.751, 0), (0, 0, 180))):
            Circle(SKETCH8_R_2)
        with Locations(Location((215.9, 59.69, 0), (0, 0, 180))):
            Circle(SKETCH8_R)
        with Locations((215.9, 194.31)):
            Circle(SKETCH8_R)
        with Locations((215.9, 214.249)):
            Circle(SKETCH8_R_2)
        with Locations((215.9, 174.371)):
            Circle(SKETCH8_R_2)
        with Locations(Location((38.1, 174.371, 0), (0, 0, 180))):
            Circle(SKETCH8_R_2)
        with Locations(Location((38.1, 214.249, 0), (0, 0, 180))):
            Circle(SKETCH8_R_2)
        with Locations(Location((38.1, 194.31, 0), (0, 0, 180))):
            Circle(SKETCH8_R)
    extrude(amount=-CUT_EXTRUDE6_DEPTH, mode=Mode.SUBTRACT)


solid = part.part
